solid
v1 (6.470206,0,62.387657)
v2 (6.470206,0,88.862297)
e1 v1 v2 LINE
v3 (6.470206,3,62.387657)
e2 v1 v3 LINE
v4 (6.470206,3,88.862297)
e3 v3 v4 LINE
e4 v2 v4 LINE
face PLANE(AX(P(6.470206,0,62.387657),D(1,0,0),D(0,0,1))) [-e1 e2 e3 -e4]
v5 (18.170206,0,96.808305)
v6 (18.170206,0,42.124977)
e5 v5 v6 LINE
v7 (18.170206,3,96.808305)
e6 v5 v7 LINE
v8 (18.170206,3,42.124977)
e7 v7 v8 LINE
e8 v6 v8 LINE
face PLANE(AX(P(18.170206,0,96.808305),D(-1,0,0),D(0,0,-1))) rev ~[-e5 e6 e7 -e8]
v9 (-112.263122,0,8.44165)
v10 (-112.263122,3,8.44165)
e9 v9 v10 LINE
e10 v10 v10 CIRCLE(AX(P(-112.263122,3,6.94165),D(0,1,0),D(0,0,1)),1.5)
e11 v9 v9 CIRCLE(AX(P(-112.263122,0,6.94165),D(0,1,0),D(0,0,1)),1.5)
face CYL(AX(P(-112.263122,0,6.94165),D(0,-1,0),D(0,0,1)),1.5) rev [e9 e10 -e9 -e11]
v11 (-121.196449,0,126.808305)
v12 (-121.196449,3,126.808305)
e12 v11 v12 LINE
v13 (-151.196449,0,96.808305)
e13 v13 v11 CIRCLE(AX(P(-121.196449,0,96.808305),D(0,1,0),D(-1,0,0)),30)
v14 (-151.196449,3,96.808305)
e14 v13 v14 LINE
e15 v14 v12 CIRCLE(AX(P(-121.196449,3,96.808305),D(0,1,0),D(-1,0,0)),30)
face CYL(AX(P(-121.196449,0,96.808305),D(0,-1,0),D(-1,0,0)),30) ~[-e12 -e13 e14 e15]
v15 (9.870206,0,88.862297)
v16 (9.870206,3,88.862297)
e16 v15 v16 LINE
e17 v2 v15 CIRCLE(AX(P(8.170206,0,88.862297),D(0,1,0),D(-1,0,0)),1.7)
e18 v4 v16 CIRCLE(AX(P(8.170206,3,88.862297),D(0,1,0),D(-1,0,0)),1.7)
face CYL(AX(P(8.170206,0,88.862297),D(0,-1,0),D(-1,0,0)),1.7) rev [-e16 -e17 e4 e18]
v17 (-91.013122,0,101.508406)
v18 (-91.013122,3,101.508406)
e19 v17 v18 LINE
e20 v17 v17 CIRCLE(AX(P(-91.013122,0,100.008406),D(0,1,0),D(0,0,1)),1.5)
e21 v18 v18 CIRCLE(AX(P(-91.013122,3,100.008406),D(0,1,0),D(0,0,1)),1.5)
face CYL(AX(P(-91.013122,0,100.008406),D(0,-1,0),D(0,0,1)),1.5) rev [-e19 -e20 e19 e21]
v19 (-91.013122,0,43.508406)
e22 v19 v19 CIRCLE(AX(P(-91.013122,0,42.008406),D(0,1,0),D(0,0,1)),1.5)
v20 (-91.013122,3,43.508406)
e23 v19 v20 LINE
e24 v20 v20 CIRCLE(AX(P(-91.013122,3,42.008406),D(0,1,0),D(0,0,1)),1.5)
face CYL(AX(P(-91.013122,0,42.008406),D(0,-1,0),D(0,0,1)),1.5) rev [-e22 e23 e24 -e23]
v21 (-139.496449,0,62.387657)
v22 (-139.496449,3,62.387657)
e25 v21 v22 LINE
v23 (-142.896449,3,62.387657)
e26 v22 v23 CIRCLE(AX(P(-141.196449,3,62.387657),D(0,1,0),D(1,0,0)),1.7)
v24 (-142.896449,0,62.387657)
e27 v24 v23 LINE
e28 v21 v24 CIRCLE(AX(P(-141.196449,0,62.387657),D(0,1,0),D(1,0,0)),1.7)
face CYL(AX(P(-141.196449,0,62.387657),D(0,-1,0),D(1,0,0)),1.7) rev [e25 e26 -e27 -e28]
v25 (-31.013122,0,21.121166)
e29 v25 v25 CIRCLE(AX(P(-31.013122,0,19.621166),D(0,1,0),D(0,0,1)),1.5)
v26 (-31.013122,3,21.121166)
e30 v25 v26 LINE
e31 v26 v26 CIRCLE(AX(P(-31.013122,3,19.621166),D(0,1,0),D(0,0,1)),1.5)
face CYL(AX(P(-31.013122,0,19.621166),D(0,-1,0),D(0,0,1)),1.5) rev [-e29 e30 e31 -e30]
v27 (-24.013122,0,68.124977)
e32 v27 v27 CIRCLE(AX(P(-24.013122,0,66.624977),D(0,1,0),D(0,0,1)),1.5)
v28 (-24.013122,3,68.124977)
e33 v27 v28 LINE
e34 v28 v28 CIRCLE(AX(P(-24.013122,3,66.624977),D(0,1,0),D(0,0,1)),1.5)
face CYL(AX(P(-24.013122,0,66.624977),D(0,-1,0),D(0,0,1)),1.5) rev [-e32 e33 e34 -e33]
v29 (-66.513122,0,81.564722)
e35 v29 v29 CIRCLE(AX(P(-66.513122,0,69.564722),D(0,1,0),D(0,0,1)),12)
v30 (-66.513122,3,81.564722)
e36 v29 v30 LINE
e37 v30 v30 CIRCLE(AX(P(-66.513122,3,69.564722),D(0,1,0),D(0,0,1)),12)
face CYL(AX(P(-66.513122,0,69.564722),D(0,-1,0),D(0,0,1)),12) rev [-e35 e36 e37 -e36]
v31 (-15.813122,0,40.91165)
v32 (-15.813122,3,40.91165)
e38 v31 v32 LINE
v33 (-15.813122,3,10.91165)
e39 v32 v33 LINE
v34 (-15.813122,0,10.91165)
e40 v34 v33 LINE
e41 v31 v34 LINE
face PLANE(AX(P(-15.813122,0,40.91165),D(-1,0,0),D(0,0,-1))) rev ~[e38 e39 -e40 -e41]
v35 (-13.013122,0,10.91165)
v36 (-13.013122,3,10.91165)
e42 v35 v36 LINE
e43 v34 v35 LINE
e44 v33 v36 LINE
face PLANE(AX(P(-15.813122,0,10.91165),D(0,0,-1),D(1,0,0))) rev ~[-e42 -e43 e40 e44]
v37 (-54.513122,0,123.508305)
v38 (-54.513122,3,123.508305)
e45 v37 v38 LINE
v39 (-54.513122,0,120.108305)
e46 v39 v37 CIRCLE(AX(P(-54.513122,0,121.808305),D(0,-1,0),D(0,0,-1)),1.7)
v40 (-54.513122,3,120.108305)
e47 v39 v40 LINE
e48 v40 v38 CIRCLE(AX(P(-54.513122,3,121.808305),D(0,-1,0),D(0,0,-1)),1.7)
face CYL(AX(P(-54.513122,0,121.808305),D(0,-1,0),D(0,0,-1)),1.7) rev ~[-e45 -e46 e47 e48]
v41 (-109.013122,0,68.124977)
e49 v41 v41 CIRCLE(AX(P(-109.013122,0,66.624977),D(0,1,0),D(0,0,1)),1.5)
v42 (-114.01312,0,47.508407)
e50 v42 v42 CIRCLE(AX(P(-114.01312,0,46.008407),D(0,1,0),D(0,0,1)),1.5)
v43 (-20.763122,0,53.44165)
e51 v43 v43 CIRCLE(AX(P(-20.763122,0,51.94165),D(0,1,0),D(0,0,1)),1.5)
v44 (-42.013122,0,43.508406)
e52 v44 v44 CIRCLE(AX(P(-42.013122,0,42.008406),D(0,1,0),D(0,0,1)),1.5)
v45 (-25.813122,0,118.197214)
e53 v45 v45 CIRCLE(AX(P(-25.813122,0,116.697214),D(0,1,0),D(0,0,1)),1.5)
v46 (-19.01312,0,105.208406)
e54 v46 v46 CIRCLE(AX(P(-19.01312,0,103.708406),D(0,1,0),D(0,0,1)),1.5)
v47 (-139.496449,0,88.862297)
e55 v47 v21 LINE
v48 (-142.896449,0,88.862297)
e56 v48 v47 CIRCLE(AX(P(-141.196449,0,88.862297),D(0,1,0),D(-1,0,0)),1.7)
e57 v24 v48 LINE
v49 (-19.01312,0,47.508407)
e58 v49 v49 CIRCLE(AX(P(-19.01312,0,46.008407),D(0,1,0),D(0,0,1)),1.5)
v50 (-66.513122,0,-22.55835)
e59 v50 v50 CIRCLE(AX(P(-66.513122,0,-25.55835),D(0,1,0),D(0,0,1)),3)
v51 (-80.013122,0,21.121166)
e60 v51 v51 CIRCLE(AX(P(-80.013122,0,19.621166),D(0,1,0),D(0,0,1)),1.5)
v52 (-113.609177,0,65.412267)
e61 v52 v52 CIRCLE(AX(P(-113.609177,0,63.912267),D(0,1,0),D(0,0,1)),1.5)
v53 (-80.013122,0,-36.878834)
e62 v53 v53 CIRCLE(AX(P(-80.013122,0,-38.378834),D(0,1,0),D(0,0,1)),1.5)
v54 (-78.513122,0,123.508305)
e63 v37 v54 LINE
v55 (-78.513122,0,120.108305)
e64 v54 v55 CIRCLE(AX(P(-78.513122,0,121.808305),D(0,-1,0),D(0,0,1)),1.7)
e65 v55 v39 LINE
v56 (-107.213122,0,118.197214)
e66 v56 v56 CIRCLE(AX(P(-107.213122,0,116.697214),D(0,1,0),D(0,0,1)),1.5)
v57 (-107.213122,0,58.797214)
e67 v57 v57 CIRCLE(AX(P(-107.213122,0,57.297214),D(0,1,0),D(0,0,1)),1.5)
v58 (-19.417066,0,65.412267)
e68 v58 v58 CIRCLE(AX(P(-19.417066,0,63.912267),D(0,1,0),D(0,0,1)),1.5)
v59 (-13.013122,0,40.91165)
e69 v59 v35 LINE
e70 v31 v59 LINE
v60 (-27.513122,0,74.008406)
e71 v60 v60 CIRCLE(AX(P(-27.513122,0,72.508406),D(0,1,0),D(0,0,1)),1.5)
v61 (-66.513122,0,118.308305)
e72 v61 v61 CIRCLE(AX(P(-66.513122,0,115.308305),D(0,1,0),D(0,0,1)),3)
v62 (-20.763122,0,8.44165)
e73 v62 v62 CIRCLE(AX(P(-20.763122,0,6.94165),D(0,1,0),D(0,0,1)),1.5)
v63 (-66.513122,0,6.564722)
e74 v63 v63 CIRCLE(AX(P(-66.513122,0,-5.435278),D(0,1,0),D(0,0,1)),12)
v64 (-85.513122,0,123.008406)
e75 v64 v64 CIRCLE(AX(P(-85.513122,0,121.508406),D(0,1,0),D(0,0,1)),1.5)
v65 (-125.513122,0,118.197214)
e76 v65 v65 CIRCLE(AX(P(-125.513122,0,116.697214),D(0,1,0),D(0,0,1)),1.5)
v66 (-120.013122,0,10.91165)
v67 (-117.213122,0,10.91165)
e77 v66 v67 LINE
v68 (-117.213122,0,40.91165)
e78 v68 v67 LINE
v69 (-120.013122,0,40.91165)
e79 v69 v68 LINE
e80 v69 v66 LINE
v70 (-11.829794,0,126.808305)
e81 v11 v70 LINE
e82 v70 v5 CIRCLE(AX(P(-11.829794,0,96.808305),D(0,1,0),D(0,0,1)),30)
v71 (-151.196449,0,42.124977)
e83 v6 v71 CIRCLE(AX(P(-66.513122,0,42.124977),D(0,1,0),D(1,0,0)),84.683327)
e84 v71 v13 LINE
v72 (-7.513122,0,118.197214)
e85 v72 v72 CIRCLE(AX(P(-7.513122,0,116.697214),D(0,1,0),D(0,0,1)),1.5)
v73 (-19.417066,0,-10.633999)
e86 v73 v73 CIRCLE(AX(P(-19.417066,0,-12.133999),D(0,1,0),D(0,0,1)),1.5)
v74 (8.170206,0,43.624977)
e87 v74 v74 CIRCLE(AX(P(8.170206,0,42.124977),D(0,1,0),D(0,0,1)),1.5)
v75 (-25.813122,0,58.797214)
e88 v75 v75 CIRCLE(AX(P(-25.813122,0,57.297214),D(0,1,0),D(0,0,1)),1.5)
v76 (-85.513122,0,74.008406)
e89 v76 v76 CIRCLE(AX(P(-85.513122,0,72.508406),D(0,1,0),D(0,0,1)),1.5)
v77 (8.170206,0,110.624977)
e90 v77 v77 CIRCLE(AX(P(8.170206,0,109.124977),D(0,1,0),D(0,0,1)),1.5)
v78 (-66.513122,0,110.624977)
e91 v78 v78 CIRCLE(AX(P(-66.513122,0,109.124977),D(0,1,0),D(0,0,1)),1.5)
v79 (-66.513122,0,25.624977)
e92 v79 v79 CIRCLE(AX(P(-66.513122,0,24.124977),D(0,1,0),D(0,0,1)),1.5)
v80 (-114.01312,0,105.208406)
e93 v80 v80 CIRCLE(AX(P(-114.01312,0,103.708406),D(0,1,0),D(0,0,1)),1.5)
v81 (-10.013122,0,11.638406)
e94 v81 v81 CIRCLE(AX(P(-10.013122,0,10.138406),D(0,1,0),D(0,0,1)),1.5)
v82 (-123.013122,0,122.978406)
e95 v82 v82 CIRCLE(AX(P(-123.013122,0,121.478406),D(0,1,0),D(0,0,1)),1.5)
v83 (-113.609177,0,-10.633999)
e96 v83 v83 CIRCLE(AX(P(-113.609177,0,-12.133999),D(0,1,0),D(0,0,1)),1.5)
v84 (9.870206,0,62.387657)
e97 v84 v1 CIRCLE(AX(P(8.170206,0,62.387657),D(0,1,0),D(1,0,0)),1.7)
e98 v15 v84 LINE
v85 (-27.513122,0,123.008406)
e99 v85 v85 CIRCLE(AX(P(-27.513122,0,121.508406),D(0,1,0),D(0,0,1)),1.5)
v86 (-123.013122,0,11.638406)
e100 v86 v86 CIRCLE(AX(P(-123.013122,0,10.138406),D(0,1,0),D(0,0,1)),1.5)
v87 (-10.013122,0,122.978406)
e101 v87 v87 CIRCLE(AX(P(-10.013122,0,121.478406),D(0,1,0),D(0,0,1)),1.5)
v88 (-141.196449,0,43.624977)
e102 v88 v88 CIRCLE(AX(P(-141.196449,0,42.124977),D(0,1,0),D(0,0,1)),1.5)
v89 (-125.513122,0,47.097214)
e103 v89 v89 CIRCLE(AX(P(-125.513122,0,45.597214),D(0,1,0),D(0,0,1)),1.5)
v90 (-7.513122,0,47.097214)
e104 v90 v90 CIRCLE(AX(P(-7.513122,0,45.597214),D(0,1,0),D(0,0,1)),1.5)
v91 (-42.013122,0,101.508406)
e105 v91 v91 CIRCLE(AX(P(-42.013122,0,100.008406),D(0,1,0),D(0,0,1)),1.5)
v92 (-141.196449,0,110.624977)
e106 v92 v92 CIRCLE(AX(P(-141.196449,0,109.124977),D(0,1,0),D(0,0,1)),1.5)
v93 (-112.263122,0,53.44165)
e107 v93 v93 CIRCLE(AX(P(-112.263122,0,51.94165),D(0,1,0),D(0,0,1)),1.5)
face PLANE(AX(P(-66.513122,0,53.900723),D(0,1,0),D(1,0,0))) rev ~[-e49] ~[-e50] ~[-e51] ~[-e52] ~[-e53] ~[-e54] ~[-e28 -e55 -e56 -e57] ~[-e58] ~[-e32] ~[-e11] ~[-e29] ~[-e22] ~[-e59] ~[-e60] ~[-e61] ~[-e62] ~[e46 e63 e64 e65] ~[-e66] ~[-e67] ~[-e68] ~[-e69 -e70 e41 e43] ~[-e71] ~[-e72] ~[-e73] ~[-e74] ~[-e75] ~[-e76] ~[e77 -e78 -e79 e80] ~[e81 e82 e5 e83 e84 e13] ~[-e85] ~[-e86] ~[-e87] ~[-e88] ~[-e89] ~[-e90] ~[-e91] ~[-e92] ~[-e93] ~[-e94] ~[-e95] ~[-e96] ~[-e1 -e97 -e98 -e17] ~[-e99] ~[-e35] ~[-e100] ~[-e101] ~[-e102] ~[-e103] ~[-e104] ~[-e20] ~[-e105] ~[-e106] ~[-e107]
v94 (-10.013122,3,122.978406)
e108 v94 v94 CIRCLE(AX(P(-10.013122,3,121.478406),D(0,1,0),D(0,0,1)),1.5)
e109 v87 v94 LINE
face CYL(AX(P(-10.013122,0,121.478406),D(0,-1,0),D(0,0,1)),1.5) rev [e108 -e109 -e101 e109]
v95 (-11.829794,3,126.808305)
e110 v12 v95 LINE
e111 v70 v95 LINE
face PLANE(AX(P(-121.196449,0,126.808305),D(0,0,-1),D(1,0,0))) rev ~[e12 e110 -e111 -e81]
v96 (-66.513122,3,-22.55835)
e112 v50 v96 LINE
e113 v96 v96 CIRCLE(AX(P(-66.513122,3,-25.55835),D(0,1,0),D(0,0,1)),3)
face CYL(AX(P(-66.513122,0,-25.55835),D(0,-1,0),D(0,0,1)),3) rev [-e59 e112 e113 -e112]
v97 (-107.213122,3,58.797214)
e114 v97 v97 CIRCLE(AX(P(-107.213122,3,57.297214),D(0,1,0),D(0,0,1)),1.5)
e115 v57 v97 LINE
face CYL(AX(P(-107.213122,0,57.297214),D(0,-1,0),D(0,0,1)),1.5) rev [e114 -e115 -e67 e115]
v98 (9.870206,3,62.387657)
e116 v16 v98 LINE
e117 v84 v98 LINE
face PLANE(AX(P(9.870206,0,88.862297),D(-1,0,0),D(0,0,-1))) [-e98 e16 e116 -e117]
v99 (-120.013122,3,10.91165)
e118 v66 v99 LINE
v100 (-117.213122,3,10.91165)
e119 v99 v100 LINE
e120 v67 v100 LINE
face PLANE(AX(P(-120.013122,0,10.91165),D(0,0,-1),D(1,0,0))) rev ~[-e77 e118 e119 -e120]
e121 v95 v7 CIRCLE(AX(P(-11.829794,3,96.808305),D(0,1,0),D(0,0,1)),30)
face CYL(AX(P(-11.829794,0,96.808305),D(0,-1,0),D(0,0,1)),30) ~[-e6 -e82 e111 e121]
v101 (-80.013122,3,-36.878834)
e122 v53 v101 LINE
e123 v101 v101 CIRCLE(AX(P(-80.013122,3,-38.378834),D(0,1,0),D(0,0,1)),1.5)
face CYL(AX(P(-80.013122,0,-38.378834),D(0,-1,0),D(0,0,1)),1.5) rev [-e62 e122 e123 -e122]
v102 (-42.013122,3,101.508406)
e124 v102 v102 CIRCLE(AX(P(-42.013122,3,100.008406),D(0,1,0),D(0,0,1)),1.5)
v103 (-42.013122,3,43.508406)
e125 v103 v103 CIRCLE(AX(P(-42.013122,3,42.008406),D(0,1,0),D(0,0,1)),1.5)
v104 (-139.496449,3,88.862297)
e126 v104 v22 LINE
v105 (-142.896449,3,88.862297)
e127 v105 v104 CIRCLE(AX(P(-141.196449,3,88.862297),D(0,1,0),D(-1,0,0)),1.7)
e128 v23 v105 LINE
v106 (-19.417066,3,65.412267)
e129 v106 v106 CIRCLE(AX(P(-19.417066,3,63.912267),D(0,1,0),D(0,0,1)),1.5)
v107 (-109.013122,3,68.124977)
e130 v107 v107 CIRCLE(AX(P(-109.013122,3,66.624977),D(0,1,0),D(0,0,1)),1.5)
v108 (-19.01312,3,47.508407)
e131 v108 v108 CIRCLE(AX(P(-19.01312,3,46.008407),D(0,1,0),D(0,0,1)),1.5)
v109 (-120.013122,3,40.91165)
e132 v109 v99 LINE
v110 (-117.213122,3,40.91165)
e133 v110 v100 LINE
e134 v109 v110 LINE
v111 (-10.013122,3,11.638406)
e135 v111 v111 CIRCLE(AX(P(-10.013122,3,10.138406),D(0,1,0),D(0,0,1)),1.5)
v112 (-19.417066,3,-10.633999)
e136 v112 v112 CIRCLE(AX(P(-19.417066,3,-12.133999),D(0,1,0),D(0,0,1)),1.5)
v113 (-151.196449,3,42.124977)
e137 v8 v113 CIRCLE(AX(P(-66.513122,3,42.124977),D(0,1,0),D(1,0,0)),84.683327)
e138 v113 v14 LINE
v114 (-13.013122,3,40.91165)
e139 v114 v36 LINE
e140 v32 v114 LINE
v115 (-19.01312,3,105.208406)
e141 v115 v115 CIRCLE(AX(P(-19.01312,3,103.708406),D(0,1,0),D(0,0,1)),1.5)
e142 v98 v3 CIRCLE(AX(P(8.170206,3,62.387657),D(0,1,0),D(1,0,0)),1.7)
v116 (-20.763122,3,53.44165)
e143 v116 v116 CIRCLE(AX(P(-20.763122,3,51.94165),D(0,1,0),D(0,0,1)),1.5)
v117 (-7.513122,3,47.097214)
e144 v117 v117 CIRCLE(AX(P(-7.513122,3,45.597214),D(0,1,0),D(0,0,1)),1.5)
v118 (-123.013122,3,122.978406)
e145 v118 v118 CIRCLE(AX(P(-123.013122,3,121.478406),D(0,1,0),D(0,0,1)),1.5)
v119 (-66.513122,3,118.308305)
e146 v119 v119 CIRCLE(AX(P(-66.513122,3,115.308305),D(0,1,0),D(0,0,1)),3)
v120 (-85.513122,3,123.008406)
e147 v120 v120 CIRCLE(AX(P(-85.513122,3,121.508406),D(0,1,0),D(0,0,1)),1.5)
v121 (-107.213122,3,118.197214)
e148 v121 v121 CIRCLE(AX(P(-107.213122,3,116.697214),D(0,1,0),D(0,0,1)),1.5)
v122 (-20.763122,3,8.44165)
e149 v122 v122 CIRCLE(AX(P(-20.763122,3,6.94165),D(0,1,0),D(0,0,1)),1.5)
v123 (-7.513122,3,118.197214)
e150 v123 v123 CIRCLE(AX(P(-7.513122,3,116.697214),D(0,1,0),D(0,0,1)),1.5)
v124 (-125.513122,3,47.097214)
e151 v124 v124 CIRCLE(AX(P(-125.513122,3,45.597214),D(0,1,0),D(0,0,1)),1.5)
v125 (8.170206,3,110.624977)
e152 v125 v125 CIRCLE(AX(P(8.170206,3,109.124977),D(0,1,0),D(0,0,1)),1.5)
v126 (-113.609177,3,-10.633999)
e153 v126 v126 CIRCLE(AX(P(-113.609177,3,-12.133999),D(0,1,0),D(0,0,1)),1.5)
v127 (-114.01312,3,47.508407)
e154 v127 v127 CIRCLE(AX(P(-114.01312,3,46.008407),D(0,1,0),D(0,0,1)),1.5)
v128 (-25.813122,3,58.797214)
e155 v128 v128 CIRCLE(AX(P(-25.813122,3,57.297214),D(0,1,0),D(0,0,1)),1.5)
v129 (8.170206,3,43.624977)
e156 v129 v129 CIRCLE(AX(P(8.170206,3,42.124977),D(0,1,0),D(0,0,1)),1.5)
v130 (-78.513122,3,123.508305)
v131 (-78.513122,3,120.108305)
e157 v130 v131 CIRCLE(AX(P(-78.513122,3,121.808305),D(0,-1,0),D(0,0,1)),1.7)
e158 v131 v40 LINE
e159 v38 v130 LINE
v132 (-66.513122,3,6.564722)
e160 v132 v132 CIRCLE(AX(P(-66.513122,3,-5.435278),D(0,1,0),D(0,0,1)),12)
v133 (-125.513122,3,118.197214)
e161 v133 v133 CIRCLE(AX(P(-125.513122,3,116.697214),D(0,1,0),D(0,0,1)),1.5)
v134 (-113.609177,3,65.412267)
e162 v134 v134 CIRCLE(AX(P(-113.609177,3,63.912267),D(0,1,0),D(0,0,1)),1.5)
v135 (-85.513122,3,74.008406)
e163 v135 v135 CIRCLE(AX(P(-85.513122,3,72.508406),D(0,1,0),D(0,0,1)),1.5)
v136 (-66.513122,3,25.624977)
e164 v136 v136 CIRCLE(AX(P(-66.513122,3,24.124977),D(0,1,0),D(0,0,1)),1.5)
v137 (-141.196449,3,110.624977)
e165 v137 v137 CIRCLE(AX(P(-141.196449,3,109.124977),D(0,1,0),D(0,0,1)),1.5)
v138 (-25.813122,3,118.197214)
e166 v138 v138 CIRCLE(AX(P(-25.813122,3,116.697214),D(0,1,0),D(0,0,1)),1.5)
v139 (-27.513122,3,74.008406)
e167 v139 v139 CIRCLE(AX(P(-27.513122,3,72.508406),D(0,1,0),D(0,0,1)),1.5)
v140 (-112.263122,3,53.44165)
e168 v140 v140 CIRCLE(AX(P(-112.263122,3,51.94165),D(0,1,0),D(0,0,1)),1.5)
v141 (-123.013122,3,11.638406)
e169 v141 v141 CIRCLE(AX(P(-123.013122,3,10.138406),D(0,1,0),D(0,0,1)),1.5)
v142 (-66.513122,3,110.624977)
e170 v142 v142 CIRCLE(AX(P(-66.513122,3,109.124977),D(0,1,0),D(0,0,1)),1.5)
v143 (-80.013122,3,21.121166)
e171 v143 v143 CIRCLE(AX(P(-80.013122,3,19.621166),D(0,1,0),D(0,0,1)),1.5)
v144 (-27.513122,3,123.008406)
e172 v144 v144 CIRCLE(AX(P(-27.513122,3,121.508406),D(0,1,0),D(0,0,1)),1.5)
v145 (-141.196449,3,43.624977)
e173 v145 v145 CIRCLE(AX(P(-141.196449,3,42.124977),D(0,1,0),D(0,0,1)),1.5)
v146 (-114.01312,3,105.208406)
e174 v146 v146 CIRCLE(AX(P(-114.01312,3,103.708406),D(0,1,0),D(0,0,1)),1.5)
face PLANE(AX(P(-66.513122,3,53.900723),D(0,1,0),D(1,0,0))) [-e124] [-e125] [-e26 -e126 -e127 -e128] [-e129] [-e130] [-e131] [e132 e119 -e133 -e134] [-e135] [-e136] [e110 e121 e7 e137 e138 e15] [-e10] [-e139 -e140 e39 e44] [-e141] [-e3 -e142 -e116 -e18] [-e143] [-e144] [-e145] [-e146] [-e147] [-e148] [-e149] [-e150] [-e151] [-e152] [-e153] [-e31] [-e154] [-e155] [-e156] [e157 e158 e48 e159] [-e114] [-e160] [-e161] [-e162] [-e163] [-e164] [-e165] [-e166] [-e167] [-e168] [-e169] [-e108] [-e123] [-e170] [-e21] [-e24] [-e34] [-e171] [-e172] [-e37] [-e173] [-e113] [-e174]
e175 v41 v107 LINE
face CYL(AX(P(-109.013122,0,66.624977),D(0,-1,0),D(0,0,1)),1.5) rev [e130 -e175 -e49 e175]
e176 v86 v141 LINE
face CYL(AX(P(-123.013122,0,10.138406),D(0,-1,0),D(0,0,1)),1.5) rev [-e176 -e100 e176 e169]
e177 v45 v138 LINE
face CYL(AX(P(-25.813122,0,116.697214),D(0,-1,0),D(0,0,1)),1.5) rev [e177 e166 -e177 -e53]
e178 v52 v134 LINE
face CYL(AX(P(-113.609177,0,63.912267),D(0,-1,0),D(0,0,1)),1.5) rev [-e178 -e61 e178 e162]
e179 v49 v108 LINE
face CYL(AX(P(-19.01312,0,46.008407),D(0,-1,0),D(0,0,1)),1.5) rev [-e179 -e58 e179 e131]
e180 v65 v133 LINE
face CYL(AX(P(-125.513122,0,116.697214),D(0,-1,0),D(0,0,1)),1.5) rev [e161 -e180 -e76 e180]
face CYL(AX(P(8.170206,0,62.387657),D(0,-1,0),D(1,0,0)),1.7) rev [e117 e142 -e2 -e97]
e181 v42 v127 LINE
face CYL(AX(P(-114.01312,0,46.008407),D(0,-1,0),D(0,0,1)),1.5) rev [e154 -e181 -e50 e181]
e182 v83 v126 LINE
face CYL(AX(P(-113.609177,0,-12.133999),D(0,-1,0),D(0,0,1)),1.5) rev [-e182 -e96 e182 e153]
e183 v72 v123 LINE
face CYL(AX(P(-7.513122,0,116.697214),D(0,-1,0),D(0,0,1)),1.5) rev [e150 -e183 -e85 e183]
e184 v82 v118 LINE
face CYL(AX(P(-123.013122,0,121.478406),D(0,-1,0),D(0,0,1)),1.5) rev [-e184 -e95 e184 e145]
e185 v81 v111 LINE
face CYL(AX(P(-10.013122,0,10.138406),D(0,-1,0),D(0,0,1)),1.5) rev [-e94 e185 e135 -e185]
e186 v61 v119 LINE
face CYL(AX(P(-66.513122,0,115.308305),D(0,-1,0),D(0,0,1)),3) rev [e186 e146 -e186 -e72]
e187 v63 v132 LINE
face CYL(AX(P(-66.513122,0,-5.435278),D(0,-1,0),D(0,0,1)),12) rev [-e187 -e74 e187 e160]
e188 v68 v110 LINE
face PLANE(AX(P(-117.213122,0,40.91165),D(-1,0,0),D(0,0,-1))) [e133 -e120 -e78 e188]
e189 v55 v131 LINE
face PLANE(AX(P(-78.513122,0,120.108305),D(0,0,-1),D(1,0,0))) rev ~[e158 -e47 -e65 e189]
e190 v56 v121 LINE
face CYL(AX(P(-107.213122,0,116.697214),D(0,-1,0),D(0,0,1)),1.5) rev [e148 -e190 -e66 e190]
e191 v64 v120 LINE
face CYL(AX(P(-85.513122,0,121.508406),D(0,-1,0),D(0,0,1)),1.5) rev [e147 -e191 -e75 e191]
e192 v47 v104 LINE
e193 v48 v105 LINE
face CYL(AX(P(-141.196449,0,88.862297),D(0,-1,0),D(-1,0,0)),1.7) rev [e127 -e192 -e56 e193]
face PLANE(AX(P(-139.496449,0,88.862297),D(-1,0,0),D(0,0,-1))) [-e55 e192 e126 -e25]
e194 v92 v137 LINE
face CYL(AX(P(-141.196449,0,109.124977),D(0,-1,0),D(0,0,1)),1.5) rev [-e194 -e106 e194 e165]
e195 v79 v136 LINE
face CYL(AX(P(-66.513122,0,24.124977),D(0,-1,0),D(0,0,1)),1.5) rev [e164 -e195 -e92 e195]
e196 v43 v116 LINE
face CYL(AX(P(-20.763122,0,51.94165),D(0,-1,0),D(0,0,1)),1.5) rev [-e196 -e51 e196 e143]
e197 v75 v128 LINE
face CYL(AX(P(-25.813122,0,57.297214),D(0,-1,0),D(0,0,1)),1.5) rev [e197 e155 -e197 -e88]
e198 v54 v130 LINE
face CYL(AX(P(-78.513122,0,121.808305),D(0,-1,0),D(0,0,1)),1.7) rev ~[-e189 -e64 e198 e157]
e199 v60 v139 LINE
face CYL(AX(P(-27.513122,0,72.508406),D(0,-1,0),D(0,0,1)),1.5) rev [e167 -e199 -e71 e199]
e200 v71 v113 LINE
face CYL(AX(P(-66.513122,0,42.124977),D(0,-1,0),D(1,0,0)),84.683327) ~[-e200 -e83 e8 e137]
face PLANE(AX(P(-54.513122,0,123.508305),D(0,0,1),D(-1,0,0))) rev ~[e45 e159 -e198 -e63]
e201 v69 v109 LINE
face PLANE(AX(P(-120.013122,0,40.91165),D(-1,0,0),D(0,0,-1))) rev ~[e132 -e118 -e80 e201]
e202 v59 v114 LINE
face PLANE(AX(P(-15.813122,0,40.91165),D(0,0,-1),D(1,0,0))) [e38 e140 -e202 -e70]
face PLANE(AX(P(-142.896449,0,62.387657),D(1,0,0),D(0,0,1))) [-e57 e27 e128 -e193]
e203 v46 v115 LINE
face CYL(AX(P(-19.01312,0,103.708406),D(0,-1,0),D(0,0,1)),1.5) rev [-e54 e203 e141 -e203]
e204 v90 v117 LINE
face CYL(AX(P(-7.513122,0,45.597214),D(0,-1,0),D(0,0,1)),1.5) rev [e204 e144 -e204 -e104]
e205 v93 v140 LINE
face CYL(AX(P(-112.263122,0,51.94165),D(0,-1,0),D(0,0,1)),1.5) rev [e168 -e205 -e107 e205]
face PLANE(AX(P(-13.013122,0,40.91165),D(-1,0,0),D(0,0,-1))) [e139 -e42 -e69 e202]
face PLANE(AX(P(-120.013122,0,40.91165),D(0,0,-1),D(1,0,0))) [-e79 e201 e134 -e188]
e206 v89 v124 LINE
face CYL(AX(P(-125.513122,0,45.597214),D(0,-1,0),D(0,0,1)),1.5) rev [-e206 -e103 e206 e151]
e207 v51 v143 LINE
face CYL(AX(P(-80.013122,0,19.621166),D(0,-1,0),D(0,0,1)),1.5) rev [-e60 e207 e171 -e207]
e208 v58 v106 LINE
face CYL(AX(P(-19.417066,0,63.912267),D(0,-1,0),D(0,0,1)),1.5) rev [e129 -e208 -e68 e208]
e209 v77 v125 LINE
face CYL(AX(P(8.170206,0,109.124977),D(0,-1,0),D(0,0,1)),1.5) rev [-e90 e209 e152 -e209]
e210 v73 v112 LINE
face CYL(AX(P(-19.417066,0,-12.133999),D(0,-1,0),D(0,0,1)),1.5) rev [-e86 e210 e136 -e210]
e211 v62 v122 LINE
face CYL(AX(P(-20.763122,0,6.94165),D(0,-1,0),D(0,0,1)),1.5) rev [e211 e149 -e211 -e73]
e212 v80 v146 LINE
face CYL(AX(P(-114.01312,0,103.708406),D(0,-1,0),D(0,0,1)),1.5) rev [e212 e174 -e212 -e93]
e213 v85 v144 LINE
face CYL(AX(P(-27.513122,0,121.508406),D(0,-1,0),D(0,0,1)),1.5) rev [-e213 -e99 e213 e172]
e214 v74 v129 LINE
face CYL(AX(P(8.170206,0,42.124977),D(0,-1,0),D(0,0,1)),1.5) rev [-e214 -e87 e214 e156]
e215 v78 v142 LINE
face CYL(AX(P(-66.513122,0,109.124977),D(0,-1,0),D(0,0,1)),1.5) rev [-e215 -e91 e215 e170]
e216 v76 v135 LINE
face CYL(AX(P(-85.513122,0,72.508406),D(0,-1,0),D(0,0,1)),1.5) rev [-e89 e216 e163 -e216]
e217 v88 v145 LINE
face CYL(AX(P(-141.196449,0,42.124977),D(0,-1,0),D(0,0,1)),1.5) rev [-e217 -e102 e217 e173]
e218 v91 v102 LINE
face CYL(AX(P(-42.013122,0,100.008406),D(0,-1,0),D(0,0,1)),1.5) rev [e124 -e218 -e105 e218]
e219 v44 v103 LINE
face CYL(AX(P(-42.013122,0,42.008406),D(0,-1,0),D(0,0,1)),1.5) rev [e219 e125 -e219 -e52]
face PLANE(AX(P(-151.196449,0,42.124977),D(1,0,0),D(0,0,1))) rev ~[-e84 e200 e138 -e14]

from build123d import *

# Parameters (mm, degrees)
SKETCH1_R           = 1.5
SKETCH1_R_2         = 3
SKETCH1_R_3         = 12
SKETCH1_W           = 2.8
SKETCH1_H           = 30
BOSS_EXTRUDE4_DEPTH = 3


with BuildPart() as part:
    # Sketch1 → Boss-Extrude4 (new body)
    with BuildSketch(Plane(origin=(0, 0, 0), x_dir=(1, 0, 0), z_dir=(0, 1, 0))):
        with BuildLine():
            Line((-121.196449229, -126.808304592), (-11.829794241, -126.808304592))
            ThreePointArc((-11.829794241, -126.808304592), (9.383409194, -118.021508028), (18.170205759, -96.808304592))
            Line((18.170205759, -96.808304592), (18.170205759, -42.124977099))
            ThreePointArc((18.170205759, -42.124977099), (-66.513121735, 42.558350395), (-151.196449229, -42.124977099))
            Line((-151.196449229, -42.124977099), (-151.196449229, -96.808304592))
            ThreePointArc((-151.196449229, -96.808304592), (-142.409652664, -118.021508028), (-121.196449229, -126.808304592))
        make_face()
        with Locations(Location((-19.417066349, 12.133998526, 0), (0, 0, 270))):
            Circle(SKETCH1_R, mode=Mode.SUBTRACT)
        with Locations(Location((-19.417066349, -63.912266725, 0), (0, 0, 270))):
            Circle(SKETCH1_R, mode=Mode.SUBTRACT)
        with Locations(Location((-113.609177122, -63.912266725, 0), (0, 0, 270))):
            Circle(SKETCH1_R, mode=Mode.SUBTRACT)
        with Locations(Location((-113.609177122, 12.133998526, 0), (0, 0, 270))):
            Circle(SKETCH1_R, mode=Mode.SUBTRACT)
        with Locations(Location((-20.763121735, -6.941649605, 0), (0, 0, 270))):
            Circle(SKETCH1_R, mode=Mode.SUBTRACT)
        with Locations(Location((-112.263121735, -6.941649605, 0), (0, 0, 270))):
            Circle(SKETCH1_R, mode=Mode.SUBTRACT)
        with Locations(Location((-112.263121735, -51.941649605, 0), (0, 0, 270))):
            Circle(SKETCH1_R, mode=Mode.SUBTRACT)
        with Locations(Location((-66.513121735, -115.308304592, 0), (0, 0, 270))):
            Circle(SKETCH1_R_2, mode=Mode.SUBTRACT)
        with Locations(Location((8.170205759, -42.124977099, 0), (0, 0, 270))):
            Circle(SKETCH1_R, mode=Mode.SUBTRACT)
        with Locations(Location((-141.196449229, -42.124977099, 0), (0, 0, 270))):
            Circle(SKETCH1_R, mode=Mode.SUBTRACT)
        with Locations(Location((-66.513121735, 5.435278237, 0), (0, 0, 270))):
            Circle(SKETCH1_R_3, mode=Mode.SUBTRACT)
        with Locations(Location((-66.513121735, 25.558350395, 0), (0, 0, 270))):
            Circle(SKETCH1_R_2, mode=Mode.SUBTRACT)
        with Locations(Location((-66.513121735, -69.564721763, 0), (0, 0, 270))):
            Circle(SKETCH1_R_3, mode=Mode.SUBTRACT)
        with Locations(Location((-107.213121735, -116.69721419, 0), (0, 0, 270))):
            Circle(SKETCH1_R, mode=Mode.SUBTRACT)
        with Locations(Location((-25.813121735, -116.69721419, 0), (0, 0, 270))):
            Circle(SKETCH1_R, mode=Mode.SUBTRACT)
        with Locations(Location((-25.813121735, -57.29721419, 0), (0, 0, 270))):
            Circle(SKETCH1_R, mode=Mode.SUBTRACT)
        with Locations(Location((-123.013121735, -10.138406212, 0), (0, 0, 270))):
            Circle(SKETCH1_R, mode=Mode.SUBTRACT)
        with Locations(Location((-107.213121735, -57.29721419, 0), (0, 0, 270))):
            Circle(SKETCH1_R, mode=Mode.SUBTRACT)
        with Locations(Location((-114.013120412, -46.008407352, 0), (0, 0, 270))):
            Circle(SKETCH1_R, mode=Mode.SUBTRACT)
        with Locations(Location((-19.013119912, -46.008407352, 0), (0, 0, 270))):
            Circle(SKETCH1_R, mode=Mode.SUBTRACT)
        with Locations(Location((-19.013119912, -103.708406252, 0), (0, 0, 270))):
            Circle(SKETCH1_R, mode=Mode.SUBTRACT)
        with Locations(Location((-114.013120412, -103.708406252, 0), (0, 0, 270))):
            Circle(SKETCH1_R, mode=Mode.SUBTRACT)
        with Locations(Location((-10.013121735, -10.138406212, 0), (0, 0, 270))):
            Circle(SKETCH1_R, mode=Mode.SUBTRACT)
        with Locations(Location((-10.013121735, -121.478406212, 0), (0, 0, 270))):
            Circle(SKETCH1_R, mode=Mode.SUBTRACT)
        with Locations(Location((-123.013121735, -121.478406212, 0), (0, 0, 270))):
            Circle(SKETCH1_R, mode=Mode.SUBTRACT)
        with Locations(Location((-125.513121735, -116.69721419, 0), (0, 0, 270))):
            Circle(SKETCH1_R, mode=Mode.SUBTRACT)
        with Locations(Location((-125.513121735, -45.59721419, 0), (0, 0, 270))):
            Circle(SKETCH1_R, mode=Mode.SUBTRACT)
        with Locations(Location((-7.513121735, -116.69721419, 0), (0, 0, 270))):
            Circle(SKETCH1_R, mode=Mode.SUBTRACT)
        with Locations(Location((-7.513121735, -45.59721419, 0), (0, 0, 270))):
            Circle(SKETCH1_R, mode=Mode.SUBTRACT)
        with Locations(Location((-80.013121735, 38.378834062, 0), (0, 0, 270))):
            Circle(SKETCH1_R, mode=Mode.SUBTRACT)
        with Locations(Location((-80.013121735, -19.621165938, 0), (0, 0, 270))):
            Circle(SKETCH1_R, mode=Mode.SUBTRACT)
        with Locations(Location((-31.013121735, -19.621165938, 0), (0, 0, 270))):
            Circle(SKETCH1_R, mode=Mode.SUBTRACT)
        with Locations(Location((-27.513121735, -72.508406212, 0), (0, 0, 270))):
            Circle(SKETCH1_R, mode=Mode.SUBTRACT)
        with Locations(Location((-27.513121735, -121.508406212, 0), (0, 0, 270))):
            Circle(SKETCH1_R, mode=Mode.SUBTRACT)
        with Locations(Location((-85.513121735, -72.508406212, 0), (0, 0, 270))):
            Circle(SKETCH1_R, mode=Mode.SUBTRACT)
        with Locations(Location((-85.513121735, -121.508406212, 0), (0, 0, 270))):
            Circle(SKETCH1_R, mode=Mode.SUBTRACT)
        with Locations(Location((-42.013121735, -100.008406212, 0), (0, 0, 270))):
            Circle(SKETCH1_R, mode=Mode.SUBTRACT)
        with Locations(Location((-91.013121735, -100.008406212, 0), (0, 0, 270))):
            Circle(SKETCH1_R, mode=Mode.SUBTRACT)
        with Locations(Location((-42.013121735, -42.008406212, 0), (0, 0, 270))):
            Circle(SKETCH1_R, mode=Mode.SUBTRACT)
        with Locations(Location((-91.013121735, -42.008406212, 0), (0, 0, 270))):
            Circle(SKETCH1_R, mode=Mode.SUBTRACT)
        with Locations(Location((-66.513121735, -109.124977099, 0), (0, 0, 270))):
            Circle(SKETCH1_R, mode=Mode.SUBTRACT)
        with Locations(Location((-66.513121735, -24.124977099, 0), (0, 0, 270))):
            Circle(SKETCH1_R, mode=Mode.SUBTRACT)
        with Locations(Location((-24.013121735, -66.624977099, 0), (0, 0, 270))):
            Circle(SKETCH1_R, mode=Mode.SUBTRACT)
        with Locations(Location((-109.013121735, -66.624977099, 0), (0, 0, 270))):
            Circle(SKETCH1_R, mode=Mode.SUBTRACT)
        with Locations(Location((-141.196449229, -109.124977099, 0), (0, 0, 270))):
            Circle(SKETCH1_R, mode=Mode.SUBTRACT)
        with Locations(Location((8.170205759, -109.124977099, 0), (0, 0, 270))):
            Circle(SKETCH1_R, mode=Mode.SUBTRACT)
        with Locations(Location((-20.763121735, -51.941649605, 0), (0, 0, 270))):
            Circle(SKETCH1_R, mode=Mode.SUBTRACT)
        with BuildLine():
            Line((-139.496449229, -88.862296701), (-139.496449229, -62.387657497))
            ThreePointArc((-139.496449229, -62.387657497), (-141.196449229, -60.687657497), (-142.896449229, -62.387657497))
            Line((-142.896449229, -62.387657497), (-142.896449229, -88.862296701))
            ThreePointArc((-142.896449229, -88.862296701), (-141.196449229, -90.562296701), (-139.496449229, -88.862296701))
        make_face(mode=Mode.SUBTRACT)
        with BuildLine():
            Line((-78.513121735, -120.108304592), (-54.513121735, -120.108304592))
            ThreePointArc((-54.513121735, -120.108304592), (-52.813121735, -121.808304592), (-54.513121735, -123.508304592))
            Line((-54.513121735, -123.508304592), (-78.513121735, -123.508304592))
            ThreePointArc((-78.513121735, -123.508304592), (-80.213121735, -121.808304592), (-78.513121735, -120.108304592))
        make_face(mode=Mode.SUBTRACT)
        with Locations((-14.413121735, -25.911649605)):
            Rectangle(SKETCH1_W, SKETCH1_H, mode=Mode.SUBTRACT)
        with Locations((-118.613121735, -25.911649605)):
            Rectangle(SKETCH1_W, SKETCH1_H, mode=Mode.SUBTRACT)
        with BuildLine():
            Line((9.870205759, -88.862296701), (9.870205759, -62.387657497))
            ThreePointArc((9.870205759, -62.387657497), (8.170205759, -60.687657497), (6.470205759, -62.387657497))
            Line((6.470205759, -62.387657497), (6.470205759, -88.862296701))
            ThreePointArc((6.470205759, -88.862296701), (8.170205759, -90.562296701), (9.870205759, -88.862296701))
        make_face(mode=Mode.SUBTRACT)
    extrude(amount=BOSS_EXTRUDE4_DEPTH)


solid = part.part
